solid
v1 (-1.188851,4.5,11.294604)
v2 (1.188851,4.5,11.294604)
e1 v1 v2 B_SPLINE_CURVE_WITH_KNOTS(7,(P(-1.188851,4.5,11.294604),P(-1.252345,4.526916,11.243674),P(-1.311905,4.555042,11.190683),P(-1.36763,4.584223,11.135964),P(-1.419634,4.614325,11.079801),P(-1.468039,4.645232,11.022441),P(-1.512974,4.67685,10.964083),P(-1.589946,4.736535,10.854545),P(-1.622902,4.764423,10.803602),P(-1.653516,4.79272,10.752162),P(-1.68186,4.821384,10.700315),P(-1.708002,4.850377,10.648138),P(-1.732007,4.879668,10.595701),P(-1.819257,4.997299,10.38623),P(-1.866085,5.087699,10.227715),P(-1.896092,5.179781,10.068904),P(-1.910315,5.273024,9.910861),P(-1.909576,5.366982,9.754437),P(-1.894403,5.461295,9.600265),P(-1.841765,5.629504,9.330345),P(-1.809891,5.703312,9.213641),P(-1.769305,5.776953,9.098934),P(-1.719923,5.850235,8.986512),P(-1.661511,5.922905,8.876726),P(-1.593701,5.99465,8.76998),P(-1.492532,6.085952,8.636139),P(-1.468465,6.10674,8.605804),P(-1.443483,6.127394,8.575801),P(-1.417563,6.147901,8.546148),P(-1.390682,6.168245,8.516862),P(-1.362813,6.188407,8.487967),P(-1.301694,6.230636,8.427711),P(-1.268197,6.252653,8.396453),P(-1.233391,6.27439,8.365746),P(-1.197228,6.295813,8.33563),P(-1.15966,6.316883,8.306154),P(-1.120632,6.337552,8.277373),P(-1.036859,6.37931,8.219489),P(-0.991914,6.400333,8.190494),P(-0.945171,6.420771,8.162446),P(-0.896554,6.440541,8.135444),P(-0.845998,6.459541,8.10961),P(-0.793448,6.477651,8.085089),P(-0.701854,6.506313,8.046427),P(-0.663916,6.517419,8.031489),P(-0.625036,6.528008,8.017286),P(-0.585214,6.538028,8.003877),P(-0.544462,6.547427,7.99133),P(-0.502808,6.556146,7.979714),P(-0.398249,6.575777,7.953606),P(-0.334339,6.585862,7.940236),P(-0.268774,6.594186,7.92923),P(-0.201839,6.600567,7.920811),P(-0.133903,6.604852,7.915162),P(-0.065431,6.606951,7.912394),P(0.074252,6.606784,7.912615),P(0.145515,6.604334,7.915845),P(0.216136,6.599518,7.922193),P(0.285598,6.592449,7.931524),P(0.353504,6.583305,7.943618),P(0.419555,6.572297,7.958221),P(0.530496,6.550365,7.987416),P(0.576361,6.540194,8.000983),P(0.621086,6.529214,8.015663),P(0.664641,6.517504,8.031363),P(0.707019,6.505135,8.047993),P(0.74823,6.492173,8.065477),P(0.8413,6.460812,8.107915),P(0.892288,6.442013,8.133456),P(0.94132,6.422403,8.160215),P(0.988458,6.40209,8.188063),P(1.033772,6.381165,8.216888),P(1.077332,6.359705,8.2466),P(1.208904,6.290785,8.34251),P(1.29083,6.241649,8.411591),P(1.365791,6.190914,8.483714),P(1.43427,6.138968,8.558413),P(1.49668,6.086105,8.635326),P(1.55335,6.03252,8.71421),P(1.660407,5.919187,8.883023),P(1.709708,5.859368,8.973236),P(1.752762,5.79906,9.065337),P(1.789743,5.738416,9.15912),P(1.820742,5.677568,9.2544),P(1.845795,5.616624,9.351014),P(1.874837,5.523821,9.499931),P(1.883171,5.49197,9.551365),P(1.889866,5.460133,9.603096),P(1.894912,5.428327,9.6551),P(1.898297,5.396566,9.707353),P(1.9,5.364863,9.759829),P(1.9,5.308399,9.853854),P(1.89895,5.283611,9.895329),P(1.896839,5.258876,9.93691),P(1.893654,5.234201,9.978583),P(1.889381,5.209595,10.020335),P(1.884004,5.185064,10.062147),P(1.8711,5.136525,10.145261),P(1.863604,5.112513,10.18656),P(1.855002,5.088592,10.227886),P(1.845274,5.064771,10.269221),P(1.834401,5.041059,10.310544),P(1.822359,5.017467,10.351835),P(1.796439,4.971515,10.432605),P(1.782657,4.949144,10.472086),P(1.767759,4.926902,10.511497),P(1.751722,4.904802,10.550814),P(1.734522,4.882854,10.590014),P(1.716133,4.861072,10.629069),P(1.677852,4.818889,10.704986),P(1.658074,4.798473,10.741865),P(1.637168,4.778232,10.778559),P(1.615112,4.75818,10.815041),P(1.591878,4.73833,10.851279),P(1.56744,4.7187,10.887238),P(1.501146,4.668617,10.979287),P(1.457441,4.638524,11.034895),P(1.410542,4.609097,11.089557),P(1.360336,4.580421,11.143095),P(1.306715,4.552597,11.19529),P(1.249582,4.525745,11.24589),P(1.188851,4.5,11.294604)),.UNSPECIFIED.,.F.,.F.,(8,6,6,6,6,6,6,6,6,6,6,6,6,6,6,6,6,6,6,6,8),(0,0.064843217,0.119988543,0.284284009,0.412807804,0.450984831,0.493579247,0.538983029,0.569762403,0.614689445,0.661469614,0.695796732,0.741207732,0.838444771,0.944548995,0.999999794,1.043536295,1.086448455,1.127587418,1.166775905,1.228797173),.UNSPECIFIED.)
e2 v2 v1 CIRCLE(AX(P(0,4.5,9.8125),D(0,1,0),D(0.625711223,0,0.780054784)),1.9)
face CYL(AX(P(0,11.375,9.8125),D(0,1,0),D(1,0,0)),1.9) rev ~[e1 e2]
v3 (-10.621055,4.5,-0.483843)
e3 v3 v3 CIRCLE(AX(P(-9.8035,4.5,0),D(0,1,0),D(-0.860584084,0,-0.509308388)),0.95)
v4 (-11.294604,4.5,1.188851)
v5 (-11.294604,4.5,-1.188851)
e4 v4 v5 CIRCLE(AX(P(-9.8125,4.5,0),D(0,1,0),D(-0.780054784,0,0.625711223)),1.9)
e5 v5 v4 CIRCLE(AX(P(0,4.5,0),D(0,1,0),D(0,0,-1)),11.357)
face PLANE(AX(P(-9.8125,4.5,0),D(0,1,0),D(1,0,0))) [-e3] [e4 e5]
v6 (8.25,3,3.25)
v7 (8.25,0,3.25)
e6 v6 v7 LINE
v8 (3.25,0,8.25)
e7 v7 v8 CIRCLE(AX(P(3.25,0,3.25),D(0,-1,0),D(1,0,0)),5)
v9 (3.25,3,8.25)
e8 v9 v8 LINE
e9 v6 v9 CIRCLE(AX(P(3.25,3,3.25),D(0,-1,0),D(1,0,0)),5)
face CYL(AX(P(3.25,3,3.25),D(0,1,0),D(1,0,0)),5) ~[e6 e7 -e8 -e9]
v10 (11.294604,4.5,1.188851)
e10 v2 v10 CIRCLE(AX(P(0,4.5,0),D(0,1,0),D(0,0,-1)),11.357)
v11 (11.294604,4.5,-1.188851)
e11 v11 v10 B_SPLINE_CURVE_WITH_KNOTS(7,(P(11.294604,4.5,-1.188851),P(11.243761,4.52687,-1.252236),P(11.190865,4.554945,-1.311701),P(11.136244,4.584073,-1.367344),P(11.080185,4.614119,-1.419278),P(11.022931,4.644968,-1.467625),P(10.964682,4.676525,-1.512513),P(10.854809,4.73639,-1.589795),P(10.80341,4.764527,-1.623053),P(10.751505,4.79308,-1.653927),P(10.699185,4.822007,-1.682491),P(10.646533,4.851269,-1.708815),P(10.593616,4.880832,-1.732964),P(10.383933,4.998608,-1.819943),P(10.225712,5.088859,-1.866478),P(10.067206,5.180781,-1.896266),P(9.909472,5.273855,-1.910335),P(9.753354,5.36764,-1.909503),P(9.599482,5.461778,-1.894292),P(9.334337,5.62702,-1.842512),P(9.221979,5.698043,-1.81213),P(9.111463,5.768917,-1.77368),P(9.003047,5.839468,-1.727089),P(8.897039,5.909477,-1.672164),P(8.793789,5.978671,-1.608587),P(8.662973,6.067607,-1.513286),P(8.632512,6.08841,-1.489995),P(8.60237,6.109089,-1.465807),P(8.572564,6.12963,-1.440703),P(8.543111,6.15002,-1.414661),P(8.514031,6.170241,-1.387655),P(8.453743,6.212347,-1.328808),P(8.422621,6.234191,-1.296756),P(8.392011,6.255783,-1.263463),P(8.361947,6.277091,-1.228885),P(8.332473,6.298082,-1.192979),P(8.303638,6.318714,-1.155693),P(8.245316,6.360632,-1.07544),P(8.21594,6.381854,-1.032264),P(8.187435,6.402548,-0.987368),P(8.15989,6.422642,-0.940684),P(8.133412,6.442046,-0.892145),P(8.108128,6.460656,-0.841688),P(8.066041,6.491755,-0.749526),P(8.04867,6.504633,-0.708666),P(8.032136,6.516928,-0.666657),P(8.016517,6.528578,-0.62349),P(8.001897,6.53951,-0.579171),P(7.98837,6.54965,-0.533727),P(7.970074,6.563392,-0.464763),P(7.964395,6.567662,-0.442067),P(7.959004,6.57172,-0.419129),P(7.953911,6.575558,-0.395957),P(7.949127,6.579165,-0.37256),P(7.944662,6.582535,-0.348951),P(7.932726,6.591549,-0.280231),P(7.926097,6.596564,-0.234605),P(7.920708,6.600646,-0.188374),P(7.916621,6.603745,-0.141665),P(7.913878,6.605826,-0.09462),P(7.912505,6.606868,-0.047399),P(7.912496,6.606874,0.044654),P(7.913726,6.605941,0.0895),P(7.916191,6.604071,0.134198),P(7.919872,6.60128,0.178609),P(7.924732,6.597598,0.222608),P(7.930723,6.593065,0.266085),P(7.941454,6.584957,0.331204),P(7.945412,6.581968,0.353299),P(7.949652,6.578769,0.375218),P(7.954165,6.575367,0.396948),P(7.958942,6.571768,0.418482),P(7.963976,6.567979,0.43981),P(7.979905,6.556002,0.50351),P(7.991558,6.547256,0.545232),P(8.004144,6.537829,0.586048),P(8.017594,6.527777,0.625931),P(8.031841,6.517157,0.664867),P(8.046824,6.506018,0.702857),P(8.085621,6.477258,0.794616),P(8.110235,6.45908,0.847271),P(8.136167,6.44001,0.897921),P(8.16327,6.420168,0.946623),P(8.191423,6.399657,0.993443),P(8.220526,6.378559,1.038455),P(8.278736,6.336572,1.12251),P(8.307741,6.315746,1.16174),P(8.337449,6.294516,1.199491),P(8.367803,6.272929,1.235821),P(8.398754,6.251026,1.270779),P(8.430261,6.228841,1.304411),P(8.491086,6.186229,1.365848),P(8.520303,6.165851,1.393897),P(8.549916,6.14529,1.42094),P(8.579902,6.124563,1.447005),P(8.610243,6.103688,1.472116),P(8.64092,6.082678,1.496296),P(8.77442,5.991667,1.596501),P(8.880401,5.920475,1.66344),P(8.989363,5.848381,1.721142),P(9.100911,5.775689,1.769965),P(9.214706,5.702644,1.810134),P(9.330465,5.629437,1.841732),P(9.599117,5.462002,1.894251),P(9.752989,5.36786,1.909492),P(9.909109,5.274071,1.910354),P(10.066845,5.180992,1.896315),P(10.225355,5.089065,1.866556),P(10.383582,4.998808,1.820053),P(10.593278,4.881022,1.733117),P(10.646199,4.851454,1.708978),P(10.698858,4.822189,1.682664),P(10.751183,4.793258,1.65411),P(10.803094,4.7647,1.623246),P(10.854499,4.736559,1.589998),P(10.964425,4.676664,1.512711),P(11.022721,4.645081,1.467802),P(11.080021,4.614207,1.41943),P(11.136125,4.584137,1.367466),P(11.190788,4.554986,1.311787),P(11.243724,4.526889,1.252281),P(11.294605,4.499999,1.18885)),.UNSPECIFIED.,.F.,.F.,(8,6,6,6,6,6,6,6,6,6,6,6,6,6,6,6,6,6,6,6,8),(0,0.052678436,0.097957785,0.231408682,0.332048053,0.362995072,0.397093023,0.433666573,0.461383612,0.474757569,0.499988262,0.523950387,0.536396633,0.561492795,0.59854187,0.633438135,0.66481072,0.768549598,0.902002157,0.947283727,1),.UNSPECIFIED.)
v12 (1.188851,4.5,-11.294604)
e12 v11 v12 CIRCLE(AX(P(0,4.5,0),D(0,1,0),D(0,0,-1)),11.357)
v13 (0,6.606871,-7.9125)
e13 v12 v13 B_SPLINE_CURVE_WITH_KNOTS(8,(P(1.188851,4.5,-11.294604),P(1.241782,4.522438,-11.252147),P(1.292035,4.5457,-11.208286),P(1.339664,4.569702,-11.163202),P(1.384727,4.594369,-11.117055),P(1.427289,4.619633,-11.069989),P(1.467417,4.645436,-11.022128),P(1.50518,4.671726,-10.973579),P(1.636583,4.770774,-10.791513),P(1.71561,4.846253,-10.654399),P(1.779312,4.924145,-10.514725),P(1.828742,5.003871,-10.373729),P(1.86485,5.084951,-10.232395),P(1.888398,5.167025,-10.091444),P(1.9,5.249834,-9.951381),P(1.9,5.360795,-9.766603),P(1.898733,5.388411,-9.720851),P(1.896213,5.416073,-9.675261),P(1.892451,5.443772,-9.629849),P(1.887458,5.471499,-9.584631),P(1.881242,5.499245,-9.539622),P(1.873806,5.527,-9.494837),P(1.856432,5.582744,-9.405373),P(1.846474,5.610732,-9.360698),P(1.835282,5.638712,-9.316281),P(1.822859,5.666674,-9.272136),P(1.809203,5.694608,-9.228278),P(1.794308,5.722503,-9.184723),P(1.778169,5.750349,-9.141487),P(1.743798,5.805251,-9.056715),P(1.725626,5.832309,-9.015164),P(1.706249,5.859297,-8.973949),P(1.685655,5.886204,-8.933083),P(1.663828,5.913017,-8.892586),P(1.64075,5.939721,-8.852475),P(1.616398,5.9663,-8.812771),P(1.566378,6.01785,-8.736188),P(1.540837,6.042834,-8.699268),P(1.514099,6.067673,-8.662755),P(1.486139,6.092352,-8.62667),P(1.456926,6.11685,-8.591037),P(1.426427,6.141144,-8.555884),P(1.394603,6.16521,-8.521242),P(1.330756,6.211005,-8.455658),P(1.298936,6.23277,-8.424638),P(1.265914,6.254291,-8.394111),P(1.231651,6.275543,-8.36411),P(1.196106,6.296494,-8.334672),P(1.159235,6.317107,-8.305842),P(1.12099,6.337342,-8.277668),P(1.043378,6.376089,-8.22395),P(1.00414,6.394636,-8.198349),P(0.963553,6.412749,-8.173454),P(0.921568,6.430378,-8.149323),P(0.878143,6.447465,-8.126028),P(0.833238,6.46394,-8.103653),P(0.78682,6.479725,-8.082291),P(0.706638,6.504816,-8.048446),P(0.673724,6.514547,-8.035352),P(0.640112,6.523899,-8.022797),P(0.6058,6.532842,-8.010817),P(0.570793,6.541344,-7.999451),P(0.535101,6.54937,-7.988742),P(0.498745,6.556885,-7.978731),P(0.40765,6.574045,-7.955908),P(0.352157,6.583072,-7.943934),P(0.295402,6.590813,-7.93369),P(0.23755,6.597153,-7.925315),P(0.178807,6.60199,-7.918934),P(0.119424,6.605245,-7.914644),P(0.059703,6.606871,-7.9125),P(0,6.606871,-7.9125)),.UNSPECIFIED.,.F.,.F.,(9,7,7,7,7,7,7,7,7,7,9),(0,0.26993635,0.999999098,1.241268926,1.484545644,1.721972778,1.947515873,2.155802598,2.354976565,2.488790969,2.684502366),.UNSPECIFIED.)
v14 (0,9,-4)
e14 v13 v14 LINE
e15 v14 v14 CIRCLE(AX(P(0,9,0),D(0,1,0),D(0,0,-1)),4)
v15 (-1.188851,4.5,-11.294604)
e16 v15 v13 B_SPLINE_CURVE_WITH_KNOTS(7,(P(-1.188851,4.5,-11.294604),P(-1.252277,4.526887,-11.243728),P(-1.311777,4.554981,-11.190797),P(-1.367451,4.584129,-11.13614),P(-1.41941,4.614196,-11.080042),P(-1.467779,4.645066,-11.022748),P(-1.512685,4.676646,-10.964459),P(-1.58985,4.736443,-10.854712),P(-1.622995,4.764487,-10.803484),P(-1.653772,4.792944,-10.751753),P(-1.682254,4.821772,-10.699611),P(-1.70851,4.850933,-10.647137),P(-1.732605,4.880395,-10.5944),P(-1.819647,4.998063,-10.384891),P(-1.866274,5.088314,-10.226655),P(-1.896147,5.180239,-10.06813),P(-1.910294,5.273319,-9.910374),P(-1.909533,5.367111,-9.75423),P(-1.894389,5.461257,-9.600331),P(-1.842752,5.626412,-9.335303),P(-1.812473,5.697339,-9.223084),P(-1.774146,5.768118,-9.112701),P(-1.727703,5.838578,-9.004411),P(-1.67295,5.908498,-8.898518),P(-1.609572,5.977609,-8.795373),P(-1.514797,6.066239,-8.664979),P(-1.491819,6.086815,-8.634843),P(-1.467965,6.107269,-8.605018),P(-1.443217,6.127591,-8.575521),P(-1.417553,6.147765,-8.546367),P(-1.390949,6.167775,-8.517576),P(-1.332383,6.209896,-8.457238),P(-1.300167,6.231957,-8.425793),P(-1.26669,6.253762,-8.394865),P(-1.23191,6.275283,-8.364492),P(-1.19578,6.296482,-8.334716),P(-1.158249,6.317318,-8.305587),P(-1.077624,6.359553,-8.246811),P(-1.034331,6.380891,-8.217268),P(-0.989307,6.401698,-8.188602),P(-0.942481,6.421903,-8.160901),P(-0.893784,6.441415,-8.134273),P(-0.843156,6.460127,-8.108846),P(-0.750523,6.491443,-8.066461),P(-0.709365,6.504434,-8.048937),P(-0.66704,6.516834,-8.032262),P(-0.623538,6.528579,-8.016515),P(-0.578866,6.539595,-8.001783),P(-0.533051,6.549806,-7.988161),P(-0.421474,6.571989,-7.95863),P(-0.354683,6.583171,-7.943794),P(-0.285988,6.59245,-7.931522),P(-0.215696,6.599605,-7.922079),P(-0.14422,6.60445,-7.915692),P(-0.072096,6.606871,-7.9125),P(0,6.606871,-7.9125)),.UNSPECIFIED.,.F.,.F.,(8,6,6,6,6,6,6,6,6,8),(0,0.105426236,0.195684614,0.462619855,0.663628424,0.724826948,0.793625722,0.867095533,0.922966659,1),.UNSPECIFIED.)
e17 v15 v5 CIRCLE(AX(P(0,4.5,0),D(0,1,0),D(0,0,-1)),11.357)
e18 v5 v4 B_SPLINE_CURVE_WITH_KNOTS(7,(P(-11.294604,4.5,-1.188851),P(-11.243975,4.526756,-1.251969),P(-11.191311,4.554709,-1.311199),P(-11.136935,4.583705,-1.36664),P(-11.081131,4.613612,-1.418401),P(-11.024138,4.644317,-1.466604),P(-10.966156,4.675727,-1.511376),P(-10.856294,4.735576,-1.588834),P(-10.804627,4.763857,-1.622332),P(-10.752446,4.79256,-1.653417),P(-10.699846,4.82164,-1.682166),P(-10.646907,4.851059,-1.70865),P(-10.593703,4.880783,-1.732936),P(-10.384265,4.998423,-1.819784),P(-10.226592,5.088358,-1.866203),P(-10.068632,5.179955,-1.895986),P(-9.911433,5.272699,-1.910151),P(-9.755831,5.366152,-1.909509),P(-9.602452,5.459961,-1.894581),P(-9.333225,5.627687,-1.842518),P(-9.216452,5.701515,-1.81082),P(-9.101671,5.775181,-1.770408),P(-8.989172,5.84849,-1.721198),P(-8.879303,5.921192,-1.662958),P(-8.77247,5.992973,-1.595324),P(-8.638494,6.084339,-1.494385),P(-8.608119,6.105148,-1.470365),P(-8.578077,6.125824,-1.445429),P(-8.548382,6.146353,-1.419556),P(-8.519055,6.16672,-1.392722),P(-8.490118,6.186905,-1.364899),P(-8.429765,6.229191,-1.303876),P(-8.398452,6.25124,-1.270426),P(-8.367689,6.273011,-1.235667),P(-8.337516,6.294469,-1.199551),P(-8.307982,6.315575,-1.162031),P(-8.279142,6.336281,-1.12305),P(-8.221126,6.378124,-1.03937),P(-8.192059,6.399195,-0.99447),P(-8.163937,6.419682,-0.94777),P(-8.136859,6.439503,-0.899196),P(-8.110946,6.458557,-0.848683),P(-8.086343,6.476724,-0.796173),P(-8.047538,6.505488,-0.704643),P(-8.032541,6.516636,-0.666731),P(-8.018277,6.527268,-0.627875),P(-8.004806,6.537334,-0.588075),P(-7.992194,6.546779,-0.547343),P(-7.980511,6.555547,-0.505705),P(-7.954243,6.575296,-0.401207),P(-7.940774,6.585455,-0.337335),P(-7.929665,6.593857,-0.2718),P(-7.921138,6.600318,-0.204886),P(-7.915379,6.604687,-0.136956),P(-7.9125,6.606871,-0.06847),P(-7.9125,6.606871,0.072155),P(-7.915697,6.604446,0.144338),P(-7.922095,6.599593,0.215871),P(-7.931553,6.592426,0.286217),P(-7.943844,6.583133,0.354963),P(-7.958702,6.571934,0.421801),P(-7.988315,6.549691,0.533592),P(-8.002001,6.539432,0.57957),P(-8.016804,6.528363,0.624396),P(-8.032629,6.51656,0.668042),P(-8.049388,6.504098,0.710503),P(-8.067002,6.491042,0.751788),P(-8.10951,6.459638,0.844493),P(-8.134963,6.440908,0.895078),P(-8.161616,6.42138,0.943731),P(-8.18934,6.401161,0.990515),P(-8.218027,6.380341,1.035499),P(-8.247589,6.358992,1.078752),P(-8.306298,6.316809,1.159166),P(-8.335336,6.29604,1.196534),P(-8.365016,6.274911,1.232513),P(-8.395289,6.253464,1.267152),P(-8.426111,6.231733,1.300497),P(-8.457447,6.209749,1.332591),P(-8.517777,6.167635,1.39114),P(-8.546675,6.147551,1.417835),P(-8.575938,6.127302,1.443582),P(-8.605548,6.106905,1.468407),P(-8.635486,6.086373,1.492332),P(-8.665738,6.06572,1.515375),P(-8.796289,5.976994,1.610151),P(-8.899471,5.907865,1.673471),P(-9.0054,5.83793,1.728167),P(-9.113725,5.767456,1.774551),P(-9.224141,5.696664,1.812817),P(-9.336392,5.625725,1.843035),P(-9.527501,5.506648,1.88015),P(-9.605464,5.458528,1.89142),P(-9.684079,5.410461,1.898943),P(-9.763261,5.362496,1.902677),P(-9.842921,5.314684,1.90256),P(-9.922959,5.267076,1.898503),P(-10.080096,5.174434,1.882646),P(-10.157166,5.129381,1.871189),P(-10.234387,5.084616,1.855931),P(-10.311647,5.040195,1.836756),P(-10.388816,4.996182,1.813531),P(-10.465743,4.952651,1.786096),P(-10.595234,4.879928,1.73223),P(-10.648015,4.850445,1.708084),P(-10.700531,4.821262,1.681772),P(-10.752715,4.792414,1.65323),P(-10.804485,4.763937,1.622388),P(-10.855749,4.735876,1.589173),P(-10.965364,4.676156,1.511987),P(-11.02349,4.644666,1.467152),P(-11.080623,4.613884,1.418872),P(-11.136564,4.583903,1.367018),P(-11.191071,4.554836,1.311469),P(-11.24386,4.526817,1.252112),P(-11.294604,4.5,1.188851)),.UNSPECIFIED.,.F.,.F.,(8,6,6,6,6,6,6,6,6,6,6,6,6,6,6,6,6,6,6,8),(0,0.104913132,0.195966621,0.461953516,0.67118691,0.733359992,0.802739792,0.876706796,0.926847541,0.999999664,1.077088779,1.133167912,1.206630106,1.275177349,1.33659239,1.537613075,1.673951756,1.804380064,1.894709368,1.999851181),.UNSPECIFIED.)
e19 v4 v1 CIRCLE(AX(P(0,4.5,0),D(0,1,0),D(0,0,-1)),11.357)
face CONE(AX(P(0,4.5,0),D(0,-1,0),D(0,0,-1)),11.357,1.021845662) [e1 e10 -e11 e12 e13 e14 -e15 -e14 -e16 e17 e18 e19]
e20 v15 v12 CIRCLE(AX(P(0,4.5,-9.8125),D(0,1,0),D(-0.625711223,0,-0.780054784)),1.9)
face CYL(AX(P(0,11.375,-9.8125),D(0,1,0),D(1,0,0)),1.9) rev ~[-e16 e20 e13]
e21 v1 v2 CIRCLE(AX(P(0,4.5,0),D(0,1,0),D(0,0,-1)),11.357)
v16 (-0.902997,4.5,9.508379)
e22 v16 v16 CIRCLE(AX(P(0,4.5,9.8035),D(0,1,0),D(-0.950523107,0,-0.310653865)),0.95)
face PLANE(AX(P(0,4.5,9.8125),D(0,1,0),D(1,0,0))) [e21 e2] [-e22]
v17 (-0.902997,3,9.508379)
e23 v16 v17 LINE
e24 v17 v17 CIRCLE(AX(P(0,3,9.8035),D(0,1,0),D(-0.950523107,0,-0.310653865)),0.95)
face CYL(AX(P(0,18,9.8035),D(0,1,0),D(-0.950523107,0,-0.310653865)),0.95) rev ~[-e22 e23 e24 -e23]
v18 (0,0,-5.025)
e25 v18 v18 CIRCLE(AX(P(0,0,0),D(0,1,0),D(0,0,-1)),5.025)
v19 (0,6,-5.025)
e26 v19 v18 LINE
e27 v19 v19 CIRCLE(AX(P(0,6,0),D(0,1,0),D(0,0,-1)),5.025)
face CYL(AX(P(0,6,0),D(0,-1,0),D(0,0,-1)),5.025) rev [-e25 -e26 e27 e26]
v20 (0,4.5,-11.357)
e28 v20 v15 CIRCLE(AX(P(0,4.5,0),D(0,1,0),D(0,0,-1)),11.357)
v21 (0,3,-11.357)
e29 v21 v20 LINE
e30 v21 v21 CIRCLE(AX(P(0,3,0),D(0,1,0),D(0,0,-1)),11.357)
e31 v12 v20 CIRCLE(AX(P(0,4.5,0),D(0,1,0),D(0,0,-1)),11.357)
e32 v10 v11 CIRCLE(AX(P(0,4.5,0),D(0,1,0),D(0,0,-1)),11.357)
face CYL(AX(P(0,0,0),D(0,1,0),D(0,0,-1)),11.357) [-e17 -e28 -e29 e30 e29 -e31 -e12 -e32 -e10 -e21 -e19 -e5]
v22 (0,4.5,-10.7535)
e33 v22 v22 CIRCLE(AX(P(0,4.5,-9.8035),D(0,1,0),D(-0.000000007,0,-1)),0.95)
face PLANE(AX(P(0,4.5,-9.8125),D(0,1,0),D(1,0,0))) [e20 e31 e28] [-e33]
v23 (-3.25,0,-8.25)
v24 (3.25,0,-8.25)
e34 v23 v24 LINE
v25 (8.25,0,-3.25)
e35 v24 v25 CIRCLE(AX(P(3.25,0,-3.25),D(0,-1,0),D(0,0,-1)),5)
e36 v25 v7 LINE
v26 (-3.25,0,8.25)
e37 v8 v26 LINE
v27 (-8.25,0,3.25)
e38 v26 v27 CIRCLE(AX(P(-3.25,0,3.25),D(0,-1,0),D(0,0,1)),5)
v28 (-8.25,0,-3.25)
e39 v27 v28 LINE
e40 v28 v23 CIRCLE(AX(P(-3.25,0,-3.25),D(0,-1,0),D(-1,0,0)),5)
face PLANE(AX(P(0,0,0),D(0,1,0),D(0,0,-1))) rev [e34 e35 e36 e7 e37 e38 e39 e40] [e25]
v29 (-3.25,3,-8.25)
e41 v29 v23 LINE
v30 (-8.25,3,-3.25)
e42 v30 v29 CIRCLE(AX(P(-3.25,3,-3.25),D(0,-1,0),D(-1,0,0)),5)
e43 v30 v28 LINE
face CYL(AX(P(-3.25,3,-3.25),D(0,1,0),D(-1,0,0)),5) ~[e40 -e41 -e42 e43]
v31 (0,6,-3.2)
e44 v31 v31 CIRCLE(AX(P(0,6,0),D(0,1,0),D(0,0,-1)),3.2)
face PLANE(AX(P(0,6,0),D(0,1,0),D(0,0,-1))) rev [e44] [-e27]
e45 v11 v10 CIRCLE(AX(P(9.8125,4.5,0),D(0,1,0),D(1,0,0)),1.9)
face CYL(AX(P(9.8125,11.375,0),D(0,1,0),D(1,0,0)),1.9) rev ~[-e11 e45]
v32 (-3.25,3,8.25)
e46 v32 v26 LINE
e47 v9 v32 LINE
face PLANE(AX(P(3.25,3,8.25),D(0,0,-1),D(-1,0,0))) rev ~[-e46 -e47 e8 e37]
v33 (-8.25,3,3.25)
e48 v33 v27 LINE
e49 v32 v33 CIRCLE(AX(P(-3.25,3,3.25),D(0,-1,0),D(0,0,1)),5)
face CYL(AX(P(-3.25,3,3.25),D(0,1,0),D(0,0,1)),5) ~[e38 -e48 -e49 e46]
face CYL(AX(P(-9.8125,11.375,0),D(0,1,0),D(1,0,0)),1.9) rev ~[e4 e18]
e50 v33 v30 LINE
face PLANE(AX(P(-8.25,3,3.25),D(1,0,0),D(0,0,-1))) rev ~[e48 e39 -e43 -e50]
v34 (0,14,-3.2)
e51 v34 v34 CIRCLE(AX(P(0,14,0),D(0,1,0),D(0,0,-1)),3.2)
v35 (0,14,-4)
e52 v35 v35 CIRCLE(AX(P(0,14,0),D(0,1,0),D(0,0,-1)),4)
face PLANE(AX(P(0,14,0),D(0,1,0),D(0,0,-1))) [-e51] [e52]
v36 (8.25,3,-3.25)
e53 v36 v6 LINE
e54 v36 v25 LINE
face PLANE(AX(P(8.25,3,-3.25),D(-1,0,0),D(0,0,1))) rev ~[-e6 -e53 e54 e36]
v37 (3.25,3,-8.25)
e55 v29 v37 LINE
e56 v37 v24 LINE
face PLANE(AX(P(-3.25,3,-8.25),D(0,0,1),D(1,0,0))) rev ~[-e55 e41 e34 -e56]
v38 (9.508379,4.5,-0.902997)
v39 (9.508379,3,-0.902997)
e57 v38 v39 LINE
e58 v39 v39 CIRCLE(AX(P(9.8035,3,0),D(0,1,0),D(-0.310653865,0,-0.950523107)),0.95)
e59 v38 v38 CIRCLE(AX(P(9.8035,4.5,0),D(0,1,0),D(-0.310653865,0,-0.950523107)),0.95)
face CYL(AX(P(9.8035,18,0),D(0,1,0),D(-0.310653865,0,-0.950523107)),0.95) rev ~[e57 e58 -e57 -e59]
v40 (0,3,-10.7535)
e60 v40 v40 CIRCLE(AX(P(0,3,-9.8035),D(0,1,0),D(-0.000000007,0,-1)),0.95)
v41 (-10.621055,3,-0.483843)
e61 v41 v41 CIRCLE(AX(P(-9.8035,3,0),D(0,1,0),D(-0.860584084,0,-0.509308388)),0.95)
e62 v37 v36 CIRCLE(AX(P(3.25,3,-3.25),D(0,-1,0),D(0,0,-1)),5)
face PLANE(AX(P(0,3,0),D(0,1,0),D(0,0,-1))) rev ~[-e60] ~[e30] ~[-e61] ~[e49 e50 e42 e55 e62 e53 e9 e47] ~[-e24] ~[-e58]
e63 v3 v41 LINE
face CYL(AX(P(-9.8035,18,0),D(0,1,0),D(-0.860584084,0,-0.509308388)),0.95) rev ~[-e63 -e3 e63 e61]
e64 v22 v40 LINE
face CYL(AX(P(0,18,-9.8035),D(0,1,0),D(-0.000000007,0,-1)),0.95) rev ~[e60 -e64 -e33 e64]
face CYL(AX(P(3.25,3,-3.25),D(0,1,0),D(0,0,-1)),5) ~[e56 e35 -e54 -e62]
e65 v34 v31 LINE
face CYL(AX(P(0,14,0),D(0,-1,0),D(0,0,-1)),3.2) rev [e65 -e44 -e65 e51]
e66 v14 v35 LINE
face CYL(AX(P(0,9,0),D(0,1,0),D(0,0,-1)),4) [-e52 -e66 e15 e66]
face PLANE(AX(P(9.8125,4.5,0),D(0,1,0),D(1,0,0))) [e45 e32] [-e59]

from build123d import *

# Parameters (mm, degrees)
CUT_EXTRUDE1_START = 3
SKETCH4_R          = 11.357
SKETCH4_R_2        = 0.95
CUT_EXTRUDE1_DEPTH = 3
CUT_EXTRUDE2_START = 18
SKETCH4_11_R       = 0.95
CUT_EXTRUDE2_DEPTH = 18
SKETCH5_R          = 1.9
CUT_EXTRUDE3_DEPTH = 6.875


with BuildPart() as part:
    # Sketch1 → Revolve1 (revolve)
    with BuildSketch(Plane.XY, mode=Mode.PRIVATE) as revolve1_sk:
        Polygon((-5.025, 0), (-11.357, 0), (-11.357, 4.5), (-4, 9), (-4, 14), (-3.2, 14), (-3.2, 6), (-5.025, 6), align=None)
    revolve(revolve1_sk.sketch.rotate(Axis((0, 0, 0), (0, 1, 0)), 270), axis=Axis((0, 0, 0), (0, 1, 0)))

    # Sketch4 → Cut-Extrude1 (cut)
    with BuildSketch(Plane(origin=(0, 0, 0), x_dir=(1, 0, 0), z_dir=(0, 1, 0)).offset(CUT_EXTRUDE1_START)):
        with Locations(Location((0, 0, 0), (0, 0, 90))):
            Circle(SKETCH4_R)
        with Locations(Location((-9.8035, 0, 0), (0, 0, 270))):
            Circle(SKETCH4_R_2, mode=Mode.SUBTRACT)
        with Locations(Location((0, -9.8035, 0), (0, 0, 270))):
            Circle(SKETCH4_R_2, mode=Mode.SUBTRACT)
        with BuildLine():
            ThreePointArc((-8.25, 3.25), (-6.785533906, 6.785533906), (-3.25, 8.25))
            Line((-3.25, 8.25), (0.661635478, 8.25))
            Line((0.661635478, 8.25), (3.25, 8.25))
            ThreePointArc((3.25, 8.25), (6.785533906, 6.785533906), (8.25, 3.25))
            Line((8.25, 3.25), (8.25, 0.661635478))
            Line((8.25, 0.661635478), (8.25, -3.25))
            ThreePointArc((8.25, -3.25), (6.785533906, -6.785533906), (3.25, -8.25))
            Line((3.25, -8.25), (-3.25, -8.25))
            ThreePointArc((-3.25, -8.25), (-6.785533906, -6.785533906), (-8.25, -3.25))
            Line((-8.25, -3.25), (-8.25, 0.661635478))
            Line((-8.25, 0.661635478), (-8.25, 3.25))
        make_face(mode=Mode.SUBTRACT)
        with Locations(Location((9.8035, 0, 0), (0, 0, 270))):
            Circle(SKETCH4_R_2, mode=Mode.SUBTRACT)
        with Locations(Location((0, 9.8035, 0), (0, 0, 270))):
            Circle(SKETCH4_R_2, mode=Mode.SUBTRACT)
    extrude(amount=-CUT_EXTRUDE1_DEPTH, mode=Mode.SUBTRACT)

    # Sketch4<11> → Cut-Extrude2 (cut)
    with BuildSketch(Plane(origin=(0, 0, 0), x_dir=(1, 0, 0), z_dir=(0, 1, 0)).offset(CUT_EXTRUDE2_START)):
        with Locations(Location((0, 9.8035, 0), (0, 0, 90.000000426))):
            Circle(SKETCH4_11_R)
        with Locations(Location((9.8035, 0, 0), (0, 0, 108.098639854))):
            Circle(SKETCH4_11_R)
        with Locations(Location((0, -9.8035, 0), (0, 0, 161.901360146))):
            Circle(SKETCH4_11_R)
        with Locations(Location((-9.8035, 0, 0), (0, 0, 149.382227185))):
            Circle(SKETCH4_11_R)
    extrude(amount=-CUT_EXTRUDE2_DEPTH, mode=Mode.SUBTRACT)

    # Sketch5 → Cut-Extrude3 (cut)
    with BuildSketch(Plane(origin=(0, 11.375, 0), x_dir=(1, 0, 0), z_dir=(0, 1, 0))):
        with Locations((0, 9.8125)):
            Circle(SKETCH5_R)
        with Locations((9.8125, 0)):
            Circle(SKETCH5_R)
        with Locations((0, -9.8125)):
            Circle(SKETCH5_R)
        with Locations((-9.8125, 0)):
            Circle(SKETCH5_R)
    extrude(amount=-CUT_EXTRUDE3_DEPTH, mode=Mode.SUBTRACT)


solid = part.part
